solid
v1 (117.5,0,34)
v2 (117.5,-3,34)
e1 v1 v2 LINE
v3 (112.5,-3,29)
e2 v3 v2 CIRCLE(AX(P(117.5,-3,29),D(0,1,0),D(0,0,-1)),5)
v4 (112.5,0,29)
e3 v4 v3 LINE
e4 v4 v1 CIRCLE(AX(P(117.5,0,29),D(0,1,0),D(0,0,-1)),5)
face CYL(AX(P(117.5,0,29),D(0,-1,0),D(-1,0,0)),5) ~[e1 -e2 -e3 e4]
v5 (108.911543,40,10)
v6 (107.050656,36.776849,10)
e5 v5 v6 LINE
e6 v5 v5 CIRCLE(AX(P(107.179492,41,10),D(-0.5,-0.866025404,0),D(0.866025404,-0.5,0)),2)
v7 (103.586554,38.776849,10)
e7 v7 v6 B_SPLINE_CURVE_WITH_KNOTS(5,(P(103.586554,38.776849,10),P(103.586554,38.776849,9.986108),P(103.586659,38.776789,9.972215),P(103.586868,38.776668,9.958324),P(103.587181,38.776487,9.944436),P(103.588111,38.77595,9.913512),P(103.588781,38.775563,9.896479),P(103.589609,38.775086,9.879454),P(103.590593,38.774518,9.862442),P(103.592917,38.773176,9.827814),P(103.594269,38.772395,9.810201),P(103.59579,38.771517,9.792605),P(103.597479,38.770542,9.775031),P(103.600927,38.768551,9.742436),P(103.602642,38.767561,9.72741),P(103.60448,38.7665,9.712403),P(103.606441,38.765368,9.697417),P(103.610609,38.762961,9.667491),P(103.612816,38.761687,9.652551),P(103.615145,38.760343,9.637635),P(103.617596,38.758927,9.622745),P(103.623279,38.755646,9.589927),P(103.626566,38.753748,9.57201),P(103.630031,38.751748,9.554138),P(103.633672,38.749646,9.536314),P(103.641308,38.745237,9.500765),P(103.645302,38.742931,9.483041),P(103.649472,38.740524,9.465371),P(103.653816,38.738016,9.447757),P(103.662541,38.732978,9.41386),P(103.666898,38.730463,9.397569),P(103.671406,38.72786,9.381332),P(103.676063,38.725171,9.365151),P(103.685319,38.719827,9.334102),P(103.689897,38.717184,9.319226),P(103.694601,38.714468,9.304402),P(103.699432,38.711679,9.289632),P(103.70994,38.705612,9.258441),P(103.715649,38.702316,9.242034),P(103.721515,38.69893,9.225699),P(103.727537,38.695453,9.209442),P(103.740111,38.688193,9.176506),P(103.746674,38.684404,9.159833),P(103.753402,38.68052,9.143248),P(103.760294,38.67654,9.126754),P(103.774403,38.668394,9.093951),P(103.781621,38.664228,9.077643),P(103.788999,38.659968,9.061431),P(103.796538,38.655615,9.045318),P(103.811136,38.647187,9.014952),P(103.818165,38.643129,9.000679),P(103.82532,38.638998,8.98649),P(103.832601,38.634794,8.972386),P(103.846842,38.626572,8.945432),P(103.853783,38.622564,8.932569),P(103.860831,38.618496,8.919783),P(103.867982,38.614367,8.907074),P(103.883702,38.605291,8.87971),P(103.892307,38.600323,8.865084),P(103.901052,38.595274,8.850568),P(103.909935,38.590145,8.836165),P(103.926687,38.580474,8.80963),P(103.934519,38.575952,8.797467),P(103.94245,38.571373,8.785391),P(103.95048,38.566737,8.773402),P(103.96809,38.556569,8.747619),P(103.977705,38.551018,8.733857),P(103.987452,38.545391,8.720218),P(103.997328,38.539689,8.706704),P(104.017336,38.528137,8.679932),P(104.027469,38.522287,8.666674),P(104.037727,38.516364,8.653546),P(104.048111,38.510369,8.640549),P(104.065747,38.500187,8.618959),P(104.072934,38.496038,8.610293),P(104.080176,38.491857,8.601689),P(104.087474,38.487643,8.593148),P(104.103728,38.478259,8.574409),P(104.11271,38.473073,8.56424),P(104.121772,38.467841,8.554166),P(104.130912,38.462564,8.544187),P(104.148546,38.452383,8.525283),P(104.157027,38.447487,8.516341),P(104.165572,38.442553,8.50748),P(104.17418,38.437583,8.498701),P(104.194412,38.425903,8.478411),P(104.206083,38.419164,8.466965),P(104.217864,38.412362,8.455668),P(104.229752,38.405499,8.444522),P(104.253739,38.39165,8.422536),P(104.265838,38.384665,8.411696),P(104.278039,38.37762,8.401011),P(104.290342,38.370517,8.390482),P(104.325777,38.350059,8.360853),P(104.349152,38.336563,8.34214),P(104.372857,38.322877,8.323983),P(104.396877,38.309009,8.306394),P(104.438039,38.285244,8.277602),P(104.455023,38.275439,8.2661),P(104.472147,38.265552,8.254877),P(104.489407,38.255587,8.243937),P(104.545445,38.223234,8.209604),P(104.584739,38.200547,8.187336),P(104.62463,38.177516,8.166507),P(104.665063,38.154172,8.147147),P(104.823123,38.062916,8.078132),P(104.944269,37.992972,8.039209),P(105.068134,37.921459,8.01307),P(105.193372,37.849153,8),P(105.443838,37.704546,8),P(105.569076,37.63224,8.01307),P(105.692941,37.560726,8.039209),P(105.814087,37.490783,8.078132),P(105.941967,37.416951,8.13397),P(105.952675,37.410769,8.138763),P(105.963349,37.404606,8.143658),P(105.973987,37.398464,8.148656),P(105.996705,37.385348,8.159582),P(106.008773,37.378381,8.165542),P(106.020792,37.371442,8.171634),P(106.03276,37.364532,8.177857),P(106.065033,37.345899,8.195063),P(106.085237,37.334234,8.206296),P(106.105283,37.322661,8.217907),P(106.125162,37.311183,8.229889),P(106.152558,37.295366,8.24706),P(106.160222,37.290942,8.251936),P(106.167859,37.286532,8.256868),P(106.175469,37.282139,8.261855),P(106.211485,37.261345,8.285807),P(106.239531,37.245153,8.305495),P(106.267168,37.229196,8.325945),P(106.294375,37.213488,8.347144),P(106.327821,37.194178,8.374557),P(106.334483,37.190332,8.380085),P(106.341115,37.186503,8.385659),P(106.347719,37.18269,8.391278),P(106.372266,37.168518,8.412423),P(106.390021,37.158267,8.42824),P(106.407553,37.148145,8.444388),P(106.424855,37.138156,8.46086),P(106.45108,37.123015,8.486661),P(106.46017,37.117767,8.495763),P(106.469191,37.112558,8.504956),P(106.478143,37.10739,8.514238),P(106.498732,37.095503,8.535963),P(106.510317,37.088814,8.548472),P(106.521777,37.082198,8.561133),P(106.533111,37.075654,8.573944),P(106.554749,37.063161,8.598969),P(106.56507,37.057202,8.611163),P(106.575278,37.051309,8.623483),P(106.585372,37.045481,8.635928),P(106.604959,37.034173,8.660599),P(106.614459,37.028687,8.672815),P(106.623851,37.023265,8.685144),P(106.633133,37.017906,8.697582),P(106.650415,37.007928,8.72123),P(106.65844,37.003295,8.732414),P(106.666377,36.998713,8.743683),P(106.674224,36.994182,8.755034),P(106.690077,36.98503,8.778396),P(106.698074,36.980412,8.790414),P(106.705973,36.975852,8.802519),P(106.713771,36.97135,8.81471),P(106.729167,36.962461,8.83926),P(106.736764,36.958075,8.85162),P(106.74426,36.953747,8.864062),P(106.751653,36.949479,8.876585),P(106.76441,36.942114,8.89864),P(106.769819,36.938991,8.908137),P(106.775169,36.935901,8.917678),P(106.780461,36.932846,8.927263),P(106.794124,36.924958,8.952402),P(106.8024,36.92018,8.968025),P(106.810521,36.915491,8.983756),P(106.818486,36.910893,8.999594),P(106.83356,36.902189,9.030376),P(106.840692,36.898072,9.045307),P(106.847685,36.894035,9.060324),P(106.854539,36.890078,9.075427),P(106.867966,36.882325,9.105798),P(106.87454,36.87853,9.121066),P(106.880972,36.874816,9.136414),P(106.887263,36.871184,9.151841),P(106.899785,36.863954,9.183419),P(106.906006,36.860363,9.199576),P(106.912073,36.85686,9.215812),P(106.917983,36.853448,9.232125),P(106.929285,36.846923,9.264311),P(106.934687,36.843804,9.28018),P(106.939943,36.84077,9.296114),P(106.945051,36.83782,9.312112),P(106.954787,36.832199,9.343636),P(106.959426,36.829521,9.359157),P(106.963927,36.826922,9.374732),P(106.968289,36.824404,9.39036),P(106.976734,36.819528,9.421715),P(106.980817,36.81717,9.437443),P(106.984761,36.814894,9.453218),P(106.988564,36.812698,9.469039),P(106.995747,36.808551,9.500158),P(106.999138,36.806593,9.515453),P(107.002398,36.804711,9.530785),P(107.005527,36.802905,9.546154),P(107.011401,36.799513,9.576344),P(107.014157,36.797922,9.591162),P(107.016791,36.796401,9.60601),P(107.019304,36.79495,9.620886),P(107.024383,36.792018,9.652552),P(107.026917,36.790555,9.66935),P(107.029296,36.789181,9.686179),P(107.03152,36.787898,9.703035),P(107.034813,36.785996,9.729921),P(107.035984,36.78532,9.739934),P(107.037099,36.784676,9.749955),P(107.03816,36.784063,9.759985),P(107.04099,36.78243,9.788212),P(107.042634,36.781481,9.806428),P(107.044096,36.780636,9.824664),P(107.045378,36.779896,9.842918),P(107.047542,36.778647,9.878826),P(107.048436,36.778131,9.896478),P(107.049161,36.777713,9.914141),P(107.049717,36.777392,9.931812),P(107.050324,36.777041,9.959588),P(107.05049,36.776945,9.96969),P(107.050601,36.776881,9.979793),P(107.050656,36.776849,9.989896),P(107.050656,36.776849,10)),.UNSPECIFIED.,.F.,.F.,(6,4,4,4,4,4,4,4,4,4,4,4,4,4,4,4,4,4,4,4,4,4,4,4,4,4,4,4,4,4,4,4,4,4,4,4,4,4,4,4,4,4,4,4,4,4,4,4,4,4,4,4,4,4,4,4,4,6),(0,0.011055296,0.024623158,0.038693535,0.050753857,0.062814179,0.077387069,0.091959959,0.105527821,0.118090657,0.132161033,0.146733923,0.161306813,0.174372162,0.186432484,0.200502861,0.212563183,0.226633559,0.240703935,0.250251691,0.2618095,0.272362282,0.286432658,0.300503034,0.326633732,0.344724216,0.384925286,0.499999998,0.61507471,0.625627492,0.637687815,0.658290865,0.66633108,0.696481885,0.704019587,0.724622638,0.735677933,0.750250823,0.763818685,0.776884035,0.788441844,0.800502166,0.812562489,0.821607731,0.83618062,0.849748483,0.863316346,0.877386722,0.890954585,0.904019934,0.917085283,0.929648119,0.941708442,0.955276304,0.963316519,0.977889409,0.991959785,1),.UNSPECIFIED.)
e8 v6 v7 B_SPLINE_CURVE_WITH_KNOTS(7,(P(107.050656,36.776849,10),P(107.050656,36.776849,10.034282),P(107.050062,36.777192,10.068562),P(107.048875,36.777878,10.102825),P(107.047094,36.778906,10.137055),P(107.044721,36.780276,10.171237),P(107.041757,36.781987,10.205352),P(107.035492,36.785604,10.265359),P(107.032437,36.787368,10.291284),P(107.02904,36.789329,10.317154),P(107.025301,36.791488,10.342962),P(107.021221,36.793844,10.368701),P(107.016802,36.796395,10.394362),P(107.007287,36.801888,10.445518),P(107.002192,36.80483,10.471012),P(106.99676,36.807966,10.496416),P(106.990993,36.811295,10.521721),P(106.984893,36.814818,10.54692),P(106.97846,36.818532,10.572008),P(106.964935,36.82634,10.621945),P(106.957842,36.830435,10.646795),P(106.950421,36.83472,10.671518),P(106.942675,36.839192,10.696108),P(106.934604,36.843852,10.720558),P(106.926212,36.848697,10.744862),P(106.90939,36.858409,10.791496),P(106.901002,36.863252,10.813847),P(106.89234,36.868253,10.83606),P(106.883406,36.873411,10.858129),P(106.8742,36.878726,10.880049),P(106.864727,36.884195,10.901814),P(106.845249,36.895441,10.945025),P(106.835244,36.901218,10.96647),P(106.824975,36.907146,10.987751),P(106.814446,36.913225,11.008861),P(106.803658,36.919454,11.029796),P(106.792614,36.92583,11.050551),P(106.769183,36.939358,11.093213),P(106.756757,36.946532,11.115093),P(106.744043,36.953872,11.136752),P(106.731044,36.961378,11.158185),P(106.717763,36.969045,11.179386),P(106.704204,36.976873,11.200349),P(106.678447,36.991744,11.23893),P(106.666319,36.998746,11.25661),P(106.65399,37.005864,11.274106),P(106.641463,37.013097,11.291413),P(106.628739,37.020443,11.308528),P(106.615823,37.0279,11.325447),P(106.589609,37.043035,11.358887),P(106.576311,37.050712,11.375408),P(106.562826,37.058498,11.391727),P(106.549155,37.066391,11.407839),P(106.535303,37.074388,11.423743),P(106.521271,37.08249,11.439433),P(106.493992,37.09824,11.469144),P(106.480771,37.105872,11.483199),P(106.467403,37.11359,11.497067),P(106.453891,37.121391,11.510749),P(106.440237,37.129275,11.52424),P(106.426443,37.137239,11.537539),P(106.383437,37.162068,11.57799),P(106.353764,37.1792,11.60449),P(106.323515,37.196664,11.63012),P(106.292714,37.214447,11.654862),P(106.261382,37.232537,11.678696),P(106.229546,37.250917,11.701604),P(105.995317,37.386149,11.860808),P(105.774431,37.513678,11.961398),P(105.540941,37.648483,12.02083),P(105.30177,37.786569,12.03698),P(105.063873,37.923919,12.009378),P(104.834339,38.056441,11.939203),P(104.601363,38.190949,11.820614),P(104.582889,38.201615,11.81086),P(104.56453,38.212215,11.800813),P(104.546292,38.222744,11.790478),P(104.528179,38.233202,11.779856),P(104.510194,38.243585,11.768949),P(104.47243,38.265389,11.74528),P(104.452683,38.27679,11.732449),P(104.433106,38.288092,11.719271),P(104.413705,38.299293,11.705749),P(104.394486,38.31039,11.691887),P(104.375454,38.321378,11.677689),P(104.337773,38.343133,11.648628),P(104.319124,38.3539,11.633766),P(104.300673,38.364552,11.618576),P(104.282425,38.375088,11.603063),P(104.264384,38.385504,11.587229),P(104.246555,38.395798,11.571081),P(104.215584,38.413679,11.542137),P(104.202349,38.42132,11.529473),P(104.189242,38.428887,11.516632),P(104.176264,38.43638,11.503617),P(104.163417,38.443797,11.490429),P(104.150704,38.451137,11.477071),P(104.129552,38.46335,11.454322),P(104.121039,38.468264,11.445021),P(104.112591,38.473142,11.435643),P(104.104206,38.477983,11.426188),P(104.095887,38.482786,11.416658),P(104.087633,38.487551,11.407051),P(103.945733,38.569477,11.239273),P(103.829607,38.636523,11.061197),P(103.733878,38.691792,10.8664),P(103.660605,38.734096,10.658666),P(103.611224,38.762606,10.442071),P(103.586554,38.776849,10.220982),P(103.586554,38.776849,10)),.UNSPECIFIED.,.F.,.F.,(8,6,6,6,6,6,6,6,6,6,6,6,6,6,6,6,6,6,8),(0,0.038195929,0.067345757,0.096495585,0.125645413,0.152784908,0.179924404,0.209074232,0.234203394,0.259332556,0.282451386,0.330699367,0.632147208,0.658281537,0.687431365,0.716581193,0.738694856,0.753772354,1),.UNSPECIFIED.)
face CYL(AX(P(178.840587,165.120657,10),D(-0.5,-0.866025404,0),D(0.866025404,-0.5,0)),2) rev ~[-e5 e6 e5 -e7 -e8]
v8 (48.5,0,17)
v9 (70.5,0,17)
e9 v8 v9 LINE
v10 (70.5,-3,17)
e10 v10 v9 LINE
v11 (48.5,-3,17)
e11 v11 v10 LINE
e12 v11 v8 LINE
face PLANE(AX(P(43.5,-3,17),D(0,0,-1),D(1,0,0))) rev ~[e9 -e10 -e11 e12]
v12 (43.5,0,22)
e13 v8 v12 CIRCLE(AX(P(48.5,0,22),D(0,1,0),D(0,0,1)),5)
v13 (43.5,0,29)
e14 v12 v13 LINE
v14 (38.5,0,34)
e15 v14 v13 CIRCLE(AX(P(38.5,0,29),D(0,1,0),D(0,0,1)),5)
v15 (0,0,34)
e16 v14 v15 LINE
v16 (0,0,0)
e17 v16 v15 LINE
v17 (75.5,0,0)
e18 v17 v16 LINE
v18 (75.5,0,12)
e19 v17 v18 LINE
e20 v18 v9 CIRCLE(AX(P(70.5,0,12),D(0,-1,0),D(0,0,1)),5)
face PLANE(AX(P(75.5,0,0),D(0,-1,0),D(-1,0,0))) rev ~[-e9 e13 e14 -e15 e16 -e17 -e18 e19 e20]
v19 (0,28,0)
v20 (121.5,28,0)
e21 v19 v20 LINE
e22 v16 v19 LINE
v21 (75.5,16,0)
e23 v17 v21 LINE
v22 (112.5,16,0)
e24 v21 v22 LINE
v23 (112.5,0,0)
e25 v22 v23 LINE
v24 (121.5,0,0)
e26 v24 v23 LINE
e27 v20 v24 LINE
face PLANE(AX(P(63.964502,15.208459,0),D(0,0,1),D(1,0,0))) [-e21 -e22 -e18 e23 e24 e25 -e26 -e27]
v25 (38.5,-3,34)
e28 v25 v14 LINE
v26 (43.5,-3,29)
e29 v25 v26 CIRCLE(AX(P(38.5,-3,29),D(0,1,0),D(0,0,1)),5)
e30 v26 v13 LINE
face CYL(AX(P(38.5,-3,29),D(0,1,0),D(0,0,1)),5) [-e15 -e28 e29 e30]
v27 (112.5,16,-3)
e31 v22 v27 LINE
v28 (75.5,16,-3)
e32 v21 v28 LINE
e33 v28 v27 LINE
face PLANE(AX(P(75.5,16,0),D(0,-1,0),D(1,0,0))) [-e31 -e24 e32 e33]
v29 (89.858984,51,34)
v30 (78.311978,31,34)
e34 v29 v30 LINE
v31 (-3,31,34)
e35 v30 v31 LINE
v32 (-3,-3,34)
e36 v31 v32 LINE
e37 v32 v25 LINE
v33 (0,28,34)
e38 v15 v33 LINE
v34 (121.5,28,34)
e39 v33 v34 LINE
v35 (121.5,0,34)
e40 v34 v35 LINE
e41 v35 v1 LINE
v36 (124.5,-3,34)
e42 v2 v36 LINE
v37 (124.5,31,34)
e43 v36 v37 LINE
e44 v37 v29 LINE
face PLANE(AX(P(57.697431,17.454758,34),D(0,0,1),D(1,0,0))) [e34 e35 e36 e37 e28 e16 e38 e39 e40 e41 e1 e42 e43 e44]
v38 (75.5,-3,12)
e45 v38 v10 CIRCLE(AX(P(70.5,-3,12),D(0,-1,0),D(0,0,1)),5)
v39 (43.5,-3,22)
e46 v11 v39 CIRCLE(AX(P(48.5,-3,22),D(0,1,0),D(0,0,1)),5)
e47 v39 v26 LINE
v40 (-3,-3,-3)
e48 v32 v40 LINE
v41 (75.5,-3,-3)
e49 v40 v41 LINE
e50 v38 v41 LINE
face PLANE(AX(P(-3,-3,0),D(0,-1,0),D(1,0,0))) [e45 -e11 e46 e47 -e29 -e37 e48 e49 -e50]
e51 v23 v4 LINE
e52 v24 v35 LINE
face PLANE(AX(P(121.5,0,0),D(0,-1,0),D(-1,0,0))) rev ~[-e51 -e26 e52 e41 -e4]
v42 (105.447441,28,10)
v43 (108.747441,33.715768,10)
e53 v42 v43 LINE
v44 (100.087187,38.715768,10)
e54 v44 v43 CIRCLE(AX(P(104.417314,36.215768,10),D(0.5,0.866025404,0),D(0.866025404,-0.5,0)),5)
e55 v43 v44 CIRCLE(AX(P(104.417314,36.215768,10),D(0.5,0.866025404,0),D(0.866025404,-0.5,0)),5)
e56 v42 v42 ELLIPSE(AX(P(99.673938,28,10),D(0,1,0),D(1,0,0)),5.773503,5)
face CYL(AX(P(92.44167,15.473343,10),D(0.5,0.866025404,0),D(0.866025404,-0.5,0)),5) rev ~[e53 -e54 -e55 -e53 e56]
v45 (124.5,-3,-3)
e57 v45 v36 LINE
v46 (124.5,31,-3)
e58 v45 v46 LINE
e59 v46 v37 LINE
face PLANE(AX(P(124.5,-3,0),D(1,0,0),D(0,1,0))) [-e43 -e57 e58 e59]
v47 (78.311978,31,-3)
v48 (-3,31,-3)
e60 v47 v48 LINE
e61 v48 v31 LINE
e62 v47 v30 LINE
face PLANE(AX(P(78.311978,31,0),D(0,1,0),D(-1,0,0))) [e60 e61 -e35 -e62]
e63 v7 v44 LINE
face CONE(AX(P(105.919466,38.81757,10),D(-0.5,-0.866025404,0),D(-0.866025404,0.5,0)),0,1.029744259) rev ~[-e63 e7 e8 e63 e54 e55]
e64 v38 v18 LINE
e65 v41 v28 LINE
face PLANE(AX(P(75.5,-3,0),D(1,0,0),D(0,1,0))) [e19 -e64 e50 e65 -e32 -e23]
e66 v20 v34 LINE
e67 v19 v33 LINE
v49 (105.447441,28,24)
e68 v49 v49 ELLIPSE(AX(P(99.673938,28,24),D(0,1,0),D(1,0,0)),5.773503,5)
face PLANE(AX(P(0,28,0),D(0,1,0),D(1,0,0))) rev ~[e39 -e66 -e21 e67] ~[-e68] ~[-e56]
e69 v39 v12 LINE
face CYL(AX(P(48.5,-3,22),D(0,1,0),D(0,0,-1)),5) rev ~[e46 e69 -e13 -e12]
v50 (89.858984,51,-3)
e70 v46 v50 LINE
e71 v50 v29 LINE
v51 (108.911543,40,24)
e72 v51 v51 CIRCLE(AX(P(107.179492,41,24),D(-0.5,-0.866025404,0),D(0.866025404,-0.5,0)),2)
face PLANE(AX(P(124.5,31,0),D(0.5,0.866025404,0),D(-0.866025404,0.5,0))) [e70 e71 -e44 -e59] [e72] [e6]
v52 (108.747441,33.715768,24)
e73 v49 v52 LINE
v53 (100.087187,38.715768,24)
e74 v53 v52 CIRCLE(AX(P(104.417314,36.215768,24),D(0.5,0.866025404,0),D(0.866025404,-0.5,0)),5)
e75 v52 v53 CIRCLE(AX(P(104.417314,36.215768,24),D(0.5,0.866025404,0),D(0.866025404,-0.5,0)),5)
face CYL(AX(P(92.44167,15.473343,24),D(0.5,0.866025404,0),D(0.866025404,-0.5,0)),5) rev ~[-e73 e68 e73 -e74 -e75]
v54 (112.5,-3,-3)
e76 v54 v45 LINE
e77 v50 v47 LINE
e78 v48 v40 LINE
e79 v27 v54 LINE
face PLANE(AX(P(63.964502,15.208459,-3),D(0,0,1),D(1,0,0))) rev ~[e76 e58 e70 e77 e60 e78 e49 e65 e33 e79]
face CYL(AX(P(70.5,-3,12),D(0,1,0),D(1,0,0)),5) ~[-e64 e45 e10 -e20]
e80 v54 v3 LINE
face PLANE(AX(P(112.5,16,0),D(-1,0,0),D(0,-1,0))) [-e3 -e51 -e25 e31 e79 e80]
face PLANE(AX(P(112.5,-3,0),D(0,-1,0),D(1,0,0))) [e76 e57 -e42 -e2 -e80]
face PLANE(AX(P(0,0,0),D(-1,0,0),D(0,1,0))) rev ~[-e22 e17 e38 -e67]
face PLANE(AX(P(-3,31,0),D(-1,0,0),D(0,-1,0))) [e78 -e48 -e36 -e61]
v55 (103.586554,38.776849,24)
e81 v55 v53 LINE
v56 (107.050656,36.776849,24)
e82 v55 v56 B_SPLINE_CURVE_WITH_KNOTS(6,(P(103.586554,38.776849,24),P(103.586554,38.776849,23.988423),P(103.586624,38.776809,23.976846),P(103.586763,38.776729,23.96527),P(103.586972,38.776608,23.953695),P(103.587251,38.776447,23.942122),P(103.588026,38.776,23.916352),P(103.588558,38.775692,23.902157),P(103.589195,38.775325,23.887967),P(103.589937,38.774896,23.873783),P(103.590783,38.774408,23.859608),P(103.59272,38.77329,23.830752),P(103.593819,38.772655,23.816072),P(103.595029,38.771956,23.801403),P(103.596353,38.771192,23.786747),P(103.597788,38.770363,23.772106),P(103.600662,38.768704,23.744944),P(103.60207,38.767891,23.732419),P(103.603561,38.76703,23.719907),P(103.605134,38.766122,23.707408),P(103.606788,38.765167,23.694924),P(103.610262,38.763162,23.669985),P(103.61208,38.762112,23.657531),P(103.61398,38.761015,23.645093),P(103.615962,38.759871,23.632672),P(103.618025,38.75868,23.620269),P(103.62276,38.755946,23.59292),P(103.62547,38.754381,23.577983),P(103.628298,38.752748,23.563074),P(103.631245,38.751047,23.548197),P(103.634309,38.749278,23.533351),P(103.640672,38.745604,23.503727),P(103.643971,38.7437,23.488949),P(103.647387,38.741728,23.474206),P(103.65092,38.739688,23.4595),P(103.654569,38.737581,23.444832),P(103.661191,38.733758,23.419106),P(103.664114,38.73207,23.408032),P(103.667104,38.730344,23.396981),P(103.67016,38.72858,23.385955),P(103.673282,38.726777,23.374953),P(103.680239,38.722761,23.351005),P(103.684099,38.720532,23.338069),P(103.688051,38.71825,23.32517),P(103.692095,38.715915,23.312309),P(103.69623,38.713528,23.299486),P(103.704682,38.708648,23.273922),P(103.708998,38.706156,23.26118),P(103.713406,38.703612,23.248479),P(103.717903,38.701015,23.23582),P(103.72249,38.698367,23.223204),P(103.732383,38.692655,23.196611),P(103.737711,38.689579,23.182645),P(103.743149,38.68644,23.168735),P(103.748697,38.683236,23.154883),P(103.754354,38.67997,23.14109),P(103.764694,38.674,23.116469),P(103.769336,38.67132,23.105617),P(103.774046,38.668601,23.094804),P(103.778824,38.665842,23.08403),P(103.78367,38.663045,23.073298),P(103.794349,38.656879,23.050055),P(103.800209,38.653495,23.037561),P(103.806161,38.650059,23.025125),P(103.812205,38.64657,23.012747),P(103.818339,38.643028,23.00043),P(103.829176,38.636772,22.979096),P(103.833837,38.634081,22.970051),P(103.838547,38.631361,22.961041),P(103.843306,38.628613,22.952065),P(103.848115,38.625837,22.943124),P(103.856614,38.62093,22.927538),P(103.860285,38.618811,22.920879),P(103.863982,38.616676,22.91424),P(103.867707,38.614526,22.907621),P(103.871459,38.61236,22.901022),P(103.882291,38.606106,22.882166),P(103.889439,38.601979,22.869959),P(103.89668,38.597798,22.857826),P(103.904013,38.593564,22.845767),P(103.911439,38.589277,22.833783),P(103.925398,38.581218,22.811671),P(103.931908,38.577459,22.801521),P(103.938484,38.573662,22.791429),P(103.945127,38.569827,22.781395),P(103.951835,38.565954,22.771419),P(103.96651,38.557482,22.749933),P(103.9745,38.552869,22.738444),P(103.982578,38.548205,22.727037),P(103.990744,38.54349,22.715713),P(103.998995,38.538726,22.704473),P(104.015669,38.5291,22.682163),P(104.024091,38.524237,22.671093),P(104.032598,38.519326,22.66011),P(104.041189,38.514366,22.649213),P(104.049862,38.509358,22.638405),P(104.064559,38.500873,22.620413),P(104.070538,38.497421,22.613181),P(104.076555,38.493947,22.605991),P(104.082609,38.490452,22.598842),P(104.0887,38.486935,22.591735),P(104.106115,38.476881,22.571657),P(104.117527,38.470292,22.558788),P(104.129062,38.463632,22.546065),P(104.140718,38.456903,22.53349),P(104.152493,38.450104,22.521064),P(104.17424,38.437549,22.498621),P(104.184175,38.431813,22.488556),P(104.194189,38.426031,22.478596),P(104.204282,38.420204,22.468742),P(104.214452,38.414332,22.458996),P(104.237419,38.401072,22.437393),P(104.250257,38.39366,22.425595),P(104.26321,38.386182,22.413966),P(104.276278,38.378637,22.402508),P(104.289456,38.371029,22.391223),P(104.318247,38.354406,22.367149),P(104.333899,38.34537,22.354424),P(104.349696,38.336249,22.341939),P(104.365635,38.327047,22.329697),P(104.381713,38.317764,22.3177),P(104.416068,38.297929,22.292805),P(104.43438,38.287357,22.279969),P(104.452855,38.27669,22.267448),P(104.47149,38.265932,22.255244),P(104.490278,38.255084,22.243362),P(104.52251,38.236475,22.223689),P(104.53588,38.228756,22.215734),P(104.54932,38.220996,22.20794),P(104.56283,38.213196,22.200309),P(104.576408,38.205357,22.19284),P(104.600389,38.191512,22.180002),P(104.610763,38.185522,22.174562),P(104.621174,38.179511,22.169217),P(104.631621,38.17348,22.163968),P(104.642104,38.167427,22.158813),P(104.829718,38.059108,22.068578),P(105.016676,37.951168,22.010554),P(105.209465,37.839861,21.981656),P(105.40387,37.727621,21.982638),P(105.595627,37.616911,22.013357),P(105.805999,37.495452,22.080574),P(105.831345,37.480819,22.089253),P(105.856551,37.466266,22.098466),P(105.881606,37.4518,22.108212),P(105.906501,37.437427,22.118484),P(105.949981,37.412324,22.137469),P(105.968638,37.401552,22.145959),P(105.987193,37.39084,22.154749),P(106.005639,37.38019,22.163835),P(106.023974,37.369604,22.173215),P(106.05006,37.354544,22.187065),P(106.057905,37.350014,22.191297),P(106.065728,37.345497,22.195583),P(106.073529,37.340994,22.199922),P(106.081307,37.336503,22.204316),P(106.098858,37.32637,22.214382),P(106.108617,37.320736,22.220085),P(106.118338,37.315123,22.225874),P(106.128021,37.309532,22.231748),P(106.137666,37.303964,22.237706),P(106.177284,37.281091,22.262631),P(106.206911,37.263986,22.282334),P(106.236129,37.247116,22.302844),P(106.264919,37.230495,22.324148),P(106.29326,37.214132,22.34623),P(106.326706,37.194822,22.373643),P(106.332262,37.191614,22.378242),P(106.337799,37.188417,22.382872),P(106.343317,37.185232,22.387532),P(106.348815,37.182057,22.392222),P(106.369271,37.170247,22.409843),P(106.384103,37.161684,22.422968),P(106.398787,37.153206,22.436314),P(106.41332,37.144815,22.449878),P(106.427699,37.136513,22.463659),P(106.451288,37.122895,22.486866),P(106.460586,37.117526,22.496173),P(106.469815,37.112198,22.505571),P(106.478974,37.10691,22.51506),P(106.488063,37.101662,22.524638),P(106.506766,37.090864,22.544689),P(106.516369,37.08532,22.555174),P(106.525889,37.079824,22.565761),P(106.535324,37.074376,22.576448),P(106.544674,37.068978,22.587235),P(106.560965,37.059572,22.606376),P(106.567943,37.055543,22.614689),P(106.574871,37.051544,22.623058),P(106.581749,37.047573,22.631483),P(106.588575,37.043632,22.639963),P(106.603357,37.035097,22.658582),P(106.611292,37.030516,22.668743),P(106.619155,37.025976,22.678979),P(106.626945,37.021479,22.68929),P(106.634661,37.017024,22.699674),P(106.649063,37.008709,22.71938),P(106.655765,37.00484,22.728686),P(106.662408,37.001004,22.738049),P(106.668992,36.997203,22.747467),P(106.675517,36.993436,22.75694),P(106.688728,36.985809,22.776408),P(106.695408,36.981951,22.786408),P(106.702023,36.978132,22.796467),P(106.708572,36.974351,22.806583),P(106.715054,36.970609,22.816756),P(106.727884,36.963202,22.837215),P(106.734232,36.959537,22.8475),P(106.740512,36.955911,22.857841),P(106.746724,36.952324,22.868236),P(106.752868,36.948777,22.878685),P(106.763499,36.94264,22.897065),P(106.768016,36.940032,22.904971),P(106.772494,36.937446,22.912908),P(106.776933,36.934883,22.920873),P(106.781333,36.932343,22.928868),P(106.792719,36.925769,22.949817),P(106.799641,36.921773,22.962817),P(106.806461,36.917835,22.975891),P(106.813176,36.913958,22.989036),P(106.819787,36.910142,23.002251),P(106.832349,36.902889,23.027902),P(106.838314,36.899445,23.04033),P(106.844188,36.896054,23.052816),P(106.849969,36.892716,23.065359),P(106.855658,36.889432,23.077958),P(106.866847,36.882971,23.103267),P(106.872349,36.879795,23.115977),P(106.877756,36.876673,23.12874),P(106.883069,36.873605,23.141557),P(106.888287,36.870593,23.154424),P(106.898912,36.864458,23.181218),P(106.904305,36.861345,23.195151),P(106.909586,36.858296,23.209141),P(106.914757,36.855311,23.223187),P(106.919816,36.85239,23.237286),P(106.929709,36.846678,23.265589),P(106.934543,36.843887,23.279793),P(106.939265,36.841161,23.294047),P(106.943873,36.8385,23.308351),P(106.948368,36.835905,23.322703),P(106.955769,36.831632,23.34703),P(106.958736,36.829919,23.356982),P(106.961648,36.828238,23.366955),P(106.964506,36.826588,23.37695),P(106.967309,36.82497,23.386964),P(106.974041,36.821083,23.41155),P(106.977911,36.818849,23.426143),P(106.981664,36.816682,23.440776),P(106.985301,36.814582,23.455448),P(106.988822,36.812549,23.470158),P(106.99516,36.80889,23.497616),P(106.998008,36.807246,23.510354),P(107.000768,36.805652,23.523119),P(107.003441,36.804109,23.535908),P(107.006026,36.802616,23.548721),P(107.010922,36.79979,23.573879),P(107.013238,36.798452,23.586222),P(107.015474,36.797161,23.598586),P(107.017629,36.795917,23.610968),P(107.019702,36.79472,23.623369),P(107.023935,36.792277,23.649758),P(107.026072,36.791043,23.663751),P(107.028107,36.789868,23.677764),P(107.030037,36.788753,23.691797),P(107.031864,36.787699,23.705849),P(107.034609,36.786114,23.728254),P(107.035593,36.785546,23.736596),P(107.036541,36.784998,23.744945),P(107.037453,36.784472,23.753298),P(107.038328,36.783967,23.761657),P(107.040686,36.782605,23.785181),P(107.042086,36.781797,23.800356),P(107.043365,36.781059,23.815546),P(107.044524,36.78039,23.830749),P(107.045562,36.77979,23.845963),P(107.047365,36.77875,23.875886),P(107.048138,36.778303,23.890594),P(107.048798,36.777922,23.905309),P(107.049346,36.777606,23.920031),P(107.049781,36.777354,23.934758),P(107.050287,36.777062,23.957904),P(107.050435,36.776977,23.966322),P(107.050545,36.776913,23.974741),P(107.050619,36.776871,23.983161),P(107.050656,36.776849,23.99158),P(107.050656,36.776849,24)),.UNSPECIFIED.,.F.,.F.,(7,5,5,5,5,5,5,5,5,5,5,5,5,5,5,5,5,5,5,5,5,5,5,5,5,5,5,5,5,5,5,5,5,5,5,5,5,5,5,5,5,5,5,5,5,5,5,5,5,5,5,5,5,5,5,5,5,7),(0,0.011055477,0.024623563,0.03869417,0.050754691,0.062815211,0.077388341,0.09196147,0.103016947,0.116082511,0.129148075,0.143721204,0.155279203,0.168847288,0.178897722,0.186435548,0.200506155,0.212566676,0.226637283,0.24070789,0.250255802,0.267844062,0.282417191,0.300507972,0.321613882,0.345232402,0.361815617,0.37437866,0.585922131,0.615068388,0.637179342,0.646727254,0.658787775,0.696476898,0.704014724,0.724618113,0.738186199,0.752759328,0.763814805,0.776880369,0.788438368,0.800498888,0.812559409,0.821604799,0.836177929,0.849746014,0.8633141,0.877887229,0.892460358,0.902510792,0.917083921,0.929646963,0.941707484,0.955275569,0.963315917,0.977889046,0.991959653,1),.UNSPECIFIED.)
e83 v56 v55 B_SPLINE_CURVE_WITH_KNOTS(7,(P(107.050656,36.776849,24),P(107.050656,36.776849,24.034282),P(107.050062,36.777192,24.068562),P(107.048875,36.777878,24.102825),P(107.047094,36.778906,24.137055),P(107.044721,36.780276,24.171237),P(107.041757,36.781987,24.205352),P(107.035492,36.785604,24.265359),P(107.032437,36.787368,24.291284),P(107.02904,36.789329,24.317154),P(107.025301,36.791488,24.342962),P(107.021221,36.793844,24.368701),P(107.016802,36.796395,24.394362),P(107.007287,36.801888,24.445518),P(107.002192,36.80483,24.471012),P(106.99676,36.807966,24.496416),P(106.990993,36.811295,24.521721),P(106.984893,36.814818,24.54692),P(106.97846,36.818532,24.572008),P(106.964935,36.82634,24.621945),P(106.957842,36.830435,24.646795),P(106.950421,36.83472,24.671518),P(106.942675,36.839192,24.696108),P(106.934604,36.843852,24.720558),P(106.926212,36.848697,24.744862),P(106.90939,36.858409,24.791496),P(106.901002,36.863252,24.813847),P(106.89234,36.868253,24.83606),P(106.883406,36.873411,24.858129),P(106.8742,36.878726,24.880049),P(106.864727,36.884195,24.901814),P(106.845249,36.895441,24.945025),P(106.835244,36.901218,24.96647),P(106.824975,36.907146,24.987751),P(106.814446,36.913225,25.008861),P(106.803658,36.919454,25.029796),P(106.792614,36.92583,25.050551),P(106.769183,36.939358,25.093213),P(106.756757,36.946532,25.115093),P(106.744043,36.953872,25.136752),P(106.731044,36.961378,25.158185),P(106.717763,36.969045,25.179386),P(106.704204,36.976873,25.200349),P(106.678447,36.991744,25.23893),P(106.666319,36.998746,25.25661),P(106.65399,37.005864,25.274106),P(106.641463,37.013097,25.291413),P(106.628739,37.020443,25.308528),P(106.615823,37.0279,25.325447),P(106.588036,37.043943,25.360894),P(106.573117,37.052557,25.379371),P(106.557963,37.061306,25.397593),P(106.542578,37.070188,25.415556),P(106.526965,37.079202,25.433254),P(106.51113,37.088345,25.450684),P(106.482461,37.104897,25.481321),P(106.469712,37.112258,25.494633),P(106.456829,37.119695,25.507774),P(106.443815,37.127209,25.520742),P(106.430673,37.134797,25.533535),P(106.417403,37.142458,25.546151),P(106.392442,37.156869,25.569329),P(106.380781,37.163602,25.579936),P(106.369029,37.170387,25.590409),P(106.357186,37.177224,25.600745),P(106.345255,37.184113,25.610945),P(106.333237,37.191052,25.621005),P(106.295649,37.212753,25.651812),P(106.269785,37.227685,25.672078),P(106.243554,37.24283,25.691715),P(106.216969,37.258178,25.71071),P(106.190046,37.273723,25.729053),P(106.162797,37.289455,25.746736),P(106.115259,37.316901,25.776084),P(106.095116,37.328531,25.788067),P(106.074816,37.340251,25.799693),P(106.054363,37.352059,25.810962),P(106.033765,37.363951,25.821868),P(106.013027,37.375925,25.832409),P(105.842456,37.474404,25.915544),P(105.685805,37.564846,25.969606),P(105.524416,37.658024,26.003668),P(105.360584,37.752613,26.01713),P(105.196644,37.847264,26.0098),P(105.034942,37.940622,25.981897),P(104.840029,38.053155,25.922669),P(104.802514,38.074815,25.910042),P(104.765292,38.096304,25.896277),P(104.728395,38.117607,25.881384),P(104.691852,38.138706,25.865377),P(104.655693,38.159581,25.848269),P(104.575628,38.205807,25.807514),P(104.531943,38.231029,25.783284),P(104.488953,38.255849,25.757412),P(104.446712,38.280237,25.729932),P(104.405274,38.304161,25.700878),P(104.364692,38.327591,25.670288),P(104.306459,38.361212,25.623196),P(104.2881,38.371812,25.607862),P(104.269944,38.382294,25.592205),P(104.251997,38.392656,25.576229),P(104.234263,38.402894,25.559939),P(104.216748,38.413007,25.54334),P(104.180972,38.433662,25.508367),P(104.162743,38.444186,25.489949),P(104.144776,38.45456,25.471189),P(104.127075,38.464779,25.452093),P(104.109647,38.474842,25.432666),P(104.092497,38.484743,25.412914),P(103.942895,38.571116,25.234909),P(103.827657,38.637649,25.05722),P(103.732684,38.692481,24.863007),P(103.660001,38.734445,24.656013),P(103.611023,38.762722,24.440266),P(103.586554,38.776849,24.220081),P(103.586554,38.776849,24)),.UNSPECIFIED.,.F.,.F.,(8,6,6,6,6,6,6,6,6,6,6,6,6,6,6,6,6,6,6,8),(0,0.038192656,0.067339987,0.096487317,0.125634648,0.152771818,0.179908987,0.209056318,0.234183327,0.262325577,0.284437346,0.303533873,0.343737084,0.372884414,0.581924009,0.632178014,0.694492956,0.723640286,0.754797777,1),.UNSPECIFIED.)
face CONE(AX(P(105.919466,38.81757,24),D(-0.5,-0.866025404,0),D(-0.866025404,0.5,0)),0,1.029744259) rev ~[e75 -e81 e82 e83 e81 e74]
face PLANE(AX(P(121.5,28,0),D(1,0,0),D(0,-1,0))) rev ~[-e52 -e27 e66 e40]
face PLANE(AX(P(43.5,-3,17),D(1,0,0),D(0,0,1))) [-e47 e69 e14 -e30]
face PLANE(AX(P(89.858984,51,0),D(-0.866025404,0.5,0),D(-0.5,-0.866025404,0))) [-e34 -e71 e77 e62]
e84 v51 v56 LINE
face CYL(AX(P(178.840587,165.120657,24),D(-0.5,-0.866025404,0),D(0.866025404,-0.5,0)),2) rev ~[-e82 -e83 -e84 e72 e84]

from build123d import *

# Parameters (mm, degrees)
F1_DEPTH = 34
F2_DEPTH = 3
F3_W     = 32
F3_H     = 17
F4_DEPTH = 3
F6_D     = 4
F9_D     = 10
F9_DEPTH = 6.6
F9_START = 8.6756443
F9_TIP   = 3.0043030951
F10_R    = 5


with BuildPart() as f1:
    # F0 (on Top) → F1 (new body)
    with BuildSketch(Plane.XY):
        Polygon((75.5, 0), (0, 0), (0, 28), (121.5, 28), (121.5, 0), (112.5, 0), (112.5, -3), (124.5, -3), (124.5, 31), (89.8589838486, 51), (78.3119784648, 31), (-3, 31), (-3, -3), (75.5, -3), align=None)
    extrude(amount=F1_DEPTH)

    # F0 (on Top) → F2 (join)
    with BuildSketch(Plane.XY):
        Polygon((0, 28), (0, 0), (75.5, 0), (75.5, 16), (112.5, 16), (112.5, 0), (121.5, 0), (121.5, 28), align=None)
        Polygon((75.5, 0), (0, 0), (0, 28), (121.5, 28), (121.5, 0), (112.5, 0), (112.5, -3), (124.5, -3), (124.5, 31), (89.8589838486, 51), (78.3119784648, 31), (-3, 31), (-3, -3), (75.5, -3), align=None)
    extrude(amount=-F2_DEPTH)

    # F3 (on face) → F4 (cut, through all)
    with BuildSketch(Plane.XZ.offset(3)):
        with Locations((59.5, 25.5)):
            Rectangle(F3_W, F3_H)
    extrude(amount=-F4_DEPTH, mode=Mode.SUBTRACT)

    # F6 (through all)
    with Locations(Plane(origin=(44.5483937587, 77.1600813856, 0), x_dir=(-0.8660254038, 0.5, 0), z_dir=(0.5, 0.8660254038, 0))):
        with Locations((-72.3201627712, 24), (-72.3201627712, 10)):
            Hole(F6_D / 2)

    # F9
    # its depths count from where the whole tool has entered the part; down to there all is cleared
    with Locations(Plane(origin=(34.1483937587, 59.1467529869, 0), x_dir=(-0.8660254038, 0.5, 0), z_dir=(-0.5, -0.8660254038, 0))):
        with Locations((-72.3201627712, -24), (-72.3201627712, -10)):
            Hole(F9_D / 2, depth=F9_START)
    with Locations(Plane(origin=(34.1483937587, 59.1467529869, 0), x_dir=(-0.8660254038, 0.5, 0), z_dir=(-0.5, -0.8660254038, 0)).offset(-F9_START)):
        with Locations((-72.3201627712, -24), (-72.3201627712, -10)):
            Hole(F9_D / 2, depth=F9_DEPTH)
            with Locations((0, 0, -(F9_DEPTH + F9_TIP / 2))):  # 118° drill point
                Cone(0, F9_D / 2, F9_TIP, mode=Mode.SUBTRACT)

    # F10
    f10_edges = [f1.edges().sort_by_distance(p)[0] for p in [
        (112.5, -1.5, 34),
        (43.5, -1.5, 34),
        (75.5, -1.5, 17),
        (43.5, -1.5, 17),
    ]]
    fillet(f10_edges, radius=F10_R)


solid = f1.part
